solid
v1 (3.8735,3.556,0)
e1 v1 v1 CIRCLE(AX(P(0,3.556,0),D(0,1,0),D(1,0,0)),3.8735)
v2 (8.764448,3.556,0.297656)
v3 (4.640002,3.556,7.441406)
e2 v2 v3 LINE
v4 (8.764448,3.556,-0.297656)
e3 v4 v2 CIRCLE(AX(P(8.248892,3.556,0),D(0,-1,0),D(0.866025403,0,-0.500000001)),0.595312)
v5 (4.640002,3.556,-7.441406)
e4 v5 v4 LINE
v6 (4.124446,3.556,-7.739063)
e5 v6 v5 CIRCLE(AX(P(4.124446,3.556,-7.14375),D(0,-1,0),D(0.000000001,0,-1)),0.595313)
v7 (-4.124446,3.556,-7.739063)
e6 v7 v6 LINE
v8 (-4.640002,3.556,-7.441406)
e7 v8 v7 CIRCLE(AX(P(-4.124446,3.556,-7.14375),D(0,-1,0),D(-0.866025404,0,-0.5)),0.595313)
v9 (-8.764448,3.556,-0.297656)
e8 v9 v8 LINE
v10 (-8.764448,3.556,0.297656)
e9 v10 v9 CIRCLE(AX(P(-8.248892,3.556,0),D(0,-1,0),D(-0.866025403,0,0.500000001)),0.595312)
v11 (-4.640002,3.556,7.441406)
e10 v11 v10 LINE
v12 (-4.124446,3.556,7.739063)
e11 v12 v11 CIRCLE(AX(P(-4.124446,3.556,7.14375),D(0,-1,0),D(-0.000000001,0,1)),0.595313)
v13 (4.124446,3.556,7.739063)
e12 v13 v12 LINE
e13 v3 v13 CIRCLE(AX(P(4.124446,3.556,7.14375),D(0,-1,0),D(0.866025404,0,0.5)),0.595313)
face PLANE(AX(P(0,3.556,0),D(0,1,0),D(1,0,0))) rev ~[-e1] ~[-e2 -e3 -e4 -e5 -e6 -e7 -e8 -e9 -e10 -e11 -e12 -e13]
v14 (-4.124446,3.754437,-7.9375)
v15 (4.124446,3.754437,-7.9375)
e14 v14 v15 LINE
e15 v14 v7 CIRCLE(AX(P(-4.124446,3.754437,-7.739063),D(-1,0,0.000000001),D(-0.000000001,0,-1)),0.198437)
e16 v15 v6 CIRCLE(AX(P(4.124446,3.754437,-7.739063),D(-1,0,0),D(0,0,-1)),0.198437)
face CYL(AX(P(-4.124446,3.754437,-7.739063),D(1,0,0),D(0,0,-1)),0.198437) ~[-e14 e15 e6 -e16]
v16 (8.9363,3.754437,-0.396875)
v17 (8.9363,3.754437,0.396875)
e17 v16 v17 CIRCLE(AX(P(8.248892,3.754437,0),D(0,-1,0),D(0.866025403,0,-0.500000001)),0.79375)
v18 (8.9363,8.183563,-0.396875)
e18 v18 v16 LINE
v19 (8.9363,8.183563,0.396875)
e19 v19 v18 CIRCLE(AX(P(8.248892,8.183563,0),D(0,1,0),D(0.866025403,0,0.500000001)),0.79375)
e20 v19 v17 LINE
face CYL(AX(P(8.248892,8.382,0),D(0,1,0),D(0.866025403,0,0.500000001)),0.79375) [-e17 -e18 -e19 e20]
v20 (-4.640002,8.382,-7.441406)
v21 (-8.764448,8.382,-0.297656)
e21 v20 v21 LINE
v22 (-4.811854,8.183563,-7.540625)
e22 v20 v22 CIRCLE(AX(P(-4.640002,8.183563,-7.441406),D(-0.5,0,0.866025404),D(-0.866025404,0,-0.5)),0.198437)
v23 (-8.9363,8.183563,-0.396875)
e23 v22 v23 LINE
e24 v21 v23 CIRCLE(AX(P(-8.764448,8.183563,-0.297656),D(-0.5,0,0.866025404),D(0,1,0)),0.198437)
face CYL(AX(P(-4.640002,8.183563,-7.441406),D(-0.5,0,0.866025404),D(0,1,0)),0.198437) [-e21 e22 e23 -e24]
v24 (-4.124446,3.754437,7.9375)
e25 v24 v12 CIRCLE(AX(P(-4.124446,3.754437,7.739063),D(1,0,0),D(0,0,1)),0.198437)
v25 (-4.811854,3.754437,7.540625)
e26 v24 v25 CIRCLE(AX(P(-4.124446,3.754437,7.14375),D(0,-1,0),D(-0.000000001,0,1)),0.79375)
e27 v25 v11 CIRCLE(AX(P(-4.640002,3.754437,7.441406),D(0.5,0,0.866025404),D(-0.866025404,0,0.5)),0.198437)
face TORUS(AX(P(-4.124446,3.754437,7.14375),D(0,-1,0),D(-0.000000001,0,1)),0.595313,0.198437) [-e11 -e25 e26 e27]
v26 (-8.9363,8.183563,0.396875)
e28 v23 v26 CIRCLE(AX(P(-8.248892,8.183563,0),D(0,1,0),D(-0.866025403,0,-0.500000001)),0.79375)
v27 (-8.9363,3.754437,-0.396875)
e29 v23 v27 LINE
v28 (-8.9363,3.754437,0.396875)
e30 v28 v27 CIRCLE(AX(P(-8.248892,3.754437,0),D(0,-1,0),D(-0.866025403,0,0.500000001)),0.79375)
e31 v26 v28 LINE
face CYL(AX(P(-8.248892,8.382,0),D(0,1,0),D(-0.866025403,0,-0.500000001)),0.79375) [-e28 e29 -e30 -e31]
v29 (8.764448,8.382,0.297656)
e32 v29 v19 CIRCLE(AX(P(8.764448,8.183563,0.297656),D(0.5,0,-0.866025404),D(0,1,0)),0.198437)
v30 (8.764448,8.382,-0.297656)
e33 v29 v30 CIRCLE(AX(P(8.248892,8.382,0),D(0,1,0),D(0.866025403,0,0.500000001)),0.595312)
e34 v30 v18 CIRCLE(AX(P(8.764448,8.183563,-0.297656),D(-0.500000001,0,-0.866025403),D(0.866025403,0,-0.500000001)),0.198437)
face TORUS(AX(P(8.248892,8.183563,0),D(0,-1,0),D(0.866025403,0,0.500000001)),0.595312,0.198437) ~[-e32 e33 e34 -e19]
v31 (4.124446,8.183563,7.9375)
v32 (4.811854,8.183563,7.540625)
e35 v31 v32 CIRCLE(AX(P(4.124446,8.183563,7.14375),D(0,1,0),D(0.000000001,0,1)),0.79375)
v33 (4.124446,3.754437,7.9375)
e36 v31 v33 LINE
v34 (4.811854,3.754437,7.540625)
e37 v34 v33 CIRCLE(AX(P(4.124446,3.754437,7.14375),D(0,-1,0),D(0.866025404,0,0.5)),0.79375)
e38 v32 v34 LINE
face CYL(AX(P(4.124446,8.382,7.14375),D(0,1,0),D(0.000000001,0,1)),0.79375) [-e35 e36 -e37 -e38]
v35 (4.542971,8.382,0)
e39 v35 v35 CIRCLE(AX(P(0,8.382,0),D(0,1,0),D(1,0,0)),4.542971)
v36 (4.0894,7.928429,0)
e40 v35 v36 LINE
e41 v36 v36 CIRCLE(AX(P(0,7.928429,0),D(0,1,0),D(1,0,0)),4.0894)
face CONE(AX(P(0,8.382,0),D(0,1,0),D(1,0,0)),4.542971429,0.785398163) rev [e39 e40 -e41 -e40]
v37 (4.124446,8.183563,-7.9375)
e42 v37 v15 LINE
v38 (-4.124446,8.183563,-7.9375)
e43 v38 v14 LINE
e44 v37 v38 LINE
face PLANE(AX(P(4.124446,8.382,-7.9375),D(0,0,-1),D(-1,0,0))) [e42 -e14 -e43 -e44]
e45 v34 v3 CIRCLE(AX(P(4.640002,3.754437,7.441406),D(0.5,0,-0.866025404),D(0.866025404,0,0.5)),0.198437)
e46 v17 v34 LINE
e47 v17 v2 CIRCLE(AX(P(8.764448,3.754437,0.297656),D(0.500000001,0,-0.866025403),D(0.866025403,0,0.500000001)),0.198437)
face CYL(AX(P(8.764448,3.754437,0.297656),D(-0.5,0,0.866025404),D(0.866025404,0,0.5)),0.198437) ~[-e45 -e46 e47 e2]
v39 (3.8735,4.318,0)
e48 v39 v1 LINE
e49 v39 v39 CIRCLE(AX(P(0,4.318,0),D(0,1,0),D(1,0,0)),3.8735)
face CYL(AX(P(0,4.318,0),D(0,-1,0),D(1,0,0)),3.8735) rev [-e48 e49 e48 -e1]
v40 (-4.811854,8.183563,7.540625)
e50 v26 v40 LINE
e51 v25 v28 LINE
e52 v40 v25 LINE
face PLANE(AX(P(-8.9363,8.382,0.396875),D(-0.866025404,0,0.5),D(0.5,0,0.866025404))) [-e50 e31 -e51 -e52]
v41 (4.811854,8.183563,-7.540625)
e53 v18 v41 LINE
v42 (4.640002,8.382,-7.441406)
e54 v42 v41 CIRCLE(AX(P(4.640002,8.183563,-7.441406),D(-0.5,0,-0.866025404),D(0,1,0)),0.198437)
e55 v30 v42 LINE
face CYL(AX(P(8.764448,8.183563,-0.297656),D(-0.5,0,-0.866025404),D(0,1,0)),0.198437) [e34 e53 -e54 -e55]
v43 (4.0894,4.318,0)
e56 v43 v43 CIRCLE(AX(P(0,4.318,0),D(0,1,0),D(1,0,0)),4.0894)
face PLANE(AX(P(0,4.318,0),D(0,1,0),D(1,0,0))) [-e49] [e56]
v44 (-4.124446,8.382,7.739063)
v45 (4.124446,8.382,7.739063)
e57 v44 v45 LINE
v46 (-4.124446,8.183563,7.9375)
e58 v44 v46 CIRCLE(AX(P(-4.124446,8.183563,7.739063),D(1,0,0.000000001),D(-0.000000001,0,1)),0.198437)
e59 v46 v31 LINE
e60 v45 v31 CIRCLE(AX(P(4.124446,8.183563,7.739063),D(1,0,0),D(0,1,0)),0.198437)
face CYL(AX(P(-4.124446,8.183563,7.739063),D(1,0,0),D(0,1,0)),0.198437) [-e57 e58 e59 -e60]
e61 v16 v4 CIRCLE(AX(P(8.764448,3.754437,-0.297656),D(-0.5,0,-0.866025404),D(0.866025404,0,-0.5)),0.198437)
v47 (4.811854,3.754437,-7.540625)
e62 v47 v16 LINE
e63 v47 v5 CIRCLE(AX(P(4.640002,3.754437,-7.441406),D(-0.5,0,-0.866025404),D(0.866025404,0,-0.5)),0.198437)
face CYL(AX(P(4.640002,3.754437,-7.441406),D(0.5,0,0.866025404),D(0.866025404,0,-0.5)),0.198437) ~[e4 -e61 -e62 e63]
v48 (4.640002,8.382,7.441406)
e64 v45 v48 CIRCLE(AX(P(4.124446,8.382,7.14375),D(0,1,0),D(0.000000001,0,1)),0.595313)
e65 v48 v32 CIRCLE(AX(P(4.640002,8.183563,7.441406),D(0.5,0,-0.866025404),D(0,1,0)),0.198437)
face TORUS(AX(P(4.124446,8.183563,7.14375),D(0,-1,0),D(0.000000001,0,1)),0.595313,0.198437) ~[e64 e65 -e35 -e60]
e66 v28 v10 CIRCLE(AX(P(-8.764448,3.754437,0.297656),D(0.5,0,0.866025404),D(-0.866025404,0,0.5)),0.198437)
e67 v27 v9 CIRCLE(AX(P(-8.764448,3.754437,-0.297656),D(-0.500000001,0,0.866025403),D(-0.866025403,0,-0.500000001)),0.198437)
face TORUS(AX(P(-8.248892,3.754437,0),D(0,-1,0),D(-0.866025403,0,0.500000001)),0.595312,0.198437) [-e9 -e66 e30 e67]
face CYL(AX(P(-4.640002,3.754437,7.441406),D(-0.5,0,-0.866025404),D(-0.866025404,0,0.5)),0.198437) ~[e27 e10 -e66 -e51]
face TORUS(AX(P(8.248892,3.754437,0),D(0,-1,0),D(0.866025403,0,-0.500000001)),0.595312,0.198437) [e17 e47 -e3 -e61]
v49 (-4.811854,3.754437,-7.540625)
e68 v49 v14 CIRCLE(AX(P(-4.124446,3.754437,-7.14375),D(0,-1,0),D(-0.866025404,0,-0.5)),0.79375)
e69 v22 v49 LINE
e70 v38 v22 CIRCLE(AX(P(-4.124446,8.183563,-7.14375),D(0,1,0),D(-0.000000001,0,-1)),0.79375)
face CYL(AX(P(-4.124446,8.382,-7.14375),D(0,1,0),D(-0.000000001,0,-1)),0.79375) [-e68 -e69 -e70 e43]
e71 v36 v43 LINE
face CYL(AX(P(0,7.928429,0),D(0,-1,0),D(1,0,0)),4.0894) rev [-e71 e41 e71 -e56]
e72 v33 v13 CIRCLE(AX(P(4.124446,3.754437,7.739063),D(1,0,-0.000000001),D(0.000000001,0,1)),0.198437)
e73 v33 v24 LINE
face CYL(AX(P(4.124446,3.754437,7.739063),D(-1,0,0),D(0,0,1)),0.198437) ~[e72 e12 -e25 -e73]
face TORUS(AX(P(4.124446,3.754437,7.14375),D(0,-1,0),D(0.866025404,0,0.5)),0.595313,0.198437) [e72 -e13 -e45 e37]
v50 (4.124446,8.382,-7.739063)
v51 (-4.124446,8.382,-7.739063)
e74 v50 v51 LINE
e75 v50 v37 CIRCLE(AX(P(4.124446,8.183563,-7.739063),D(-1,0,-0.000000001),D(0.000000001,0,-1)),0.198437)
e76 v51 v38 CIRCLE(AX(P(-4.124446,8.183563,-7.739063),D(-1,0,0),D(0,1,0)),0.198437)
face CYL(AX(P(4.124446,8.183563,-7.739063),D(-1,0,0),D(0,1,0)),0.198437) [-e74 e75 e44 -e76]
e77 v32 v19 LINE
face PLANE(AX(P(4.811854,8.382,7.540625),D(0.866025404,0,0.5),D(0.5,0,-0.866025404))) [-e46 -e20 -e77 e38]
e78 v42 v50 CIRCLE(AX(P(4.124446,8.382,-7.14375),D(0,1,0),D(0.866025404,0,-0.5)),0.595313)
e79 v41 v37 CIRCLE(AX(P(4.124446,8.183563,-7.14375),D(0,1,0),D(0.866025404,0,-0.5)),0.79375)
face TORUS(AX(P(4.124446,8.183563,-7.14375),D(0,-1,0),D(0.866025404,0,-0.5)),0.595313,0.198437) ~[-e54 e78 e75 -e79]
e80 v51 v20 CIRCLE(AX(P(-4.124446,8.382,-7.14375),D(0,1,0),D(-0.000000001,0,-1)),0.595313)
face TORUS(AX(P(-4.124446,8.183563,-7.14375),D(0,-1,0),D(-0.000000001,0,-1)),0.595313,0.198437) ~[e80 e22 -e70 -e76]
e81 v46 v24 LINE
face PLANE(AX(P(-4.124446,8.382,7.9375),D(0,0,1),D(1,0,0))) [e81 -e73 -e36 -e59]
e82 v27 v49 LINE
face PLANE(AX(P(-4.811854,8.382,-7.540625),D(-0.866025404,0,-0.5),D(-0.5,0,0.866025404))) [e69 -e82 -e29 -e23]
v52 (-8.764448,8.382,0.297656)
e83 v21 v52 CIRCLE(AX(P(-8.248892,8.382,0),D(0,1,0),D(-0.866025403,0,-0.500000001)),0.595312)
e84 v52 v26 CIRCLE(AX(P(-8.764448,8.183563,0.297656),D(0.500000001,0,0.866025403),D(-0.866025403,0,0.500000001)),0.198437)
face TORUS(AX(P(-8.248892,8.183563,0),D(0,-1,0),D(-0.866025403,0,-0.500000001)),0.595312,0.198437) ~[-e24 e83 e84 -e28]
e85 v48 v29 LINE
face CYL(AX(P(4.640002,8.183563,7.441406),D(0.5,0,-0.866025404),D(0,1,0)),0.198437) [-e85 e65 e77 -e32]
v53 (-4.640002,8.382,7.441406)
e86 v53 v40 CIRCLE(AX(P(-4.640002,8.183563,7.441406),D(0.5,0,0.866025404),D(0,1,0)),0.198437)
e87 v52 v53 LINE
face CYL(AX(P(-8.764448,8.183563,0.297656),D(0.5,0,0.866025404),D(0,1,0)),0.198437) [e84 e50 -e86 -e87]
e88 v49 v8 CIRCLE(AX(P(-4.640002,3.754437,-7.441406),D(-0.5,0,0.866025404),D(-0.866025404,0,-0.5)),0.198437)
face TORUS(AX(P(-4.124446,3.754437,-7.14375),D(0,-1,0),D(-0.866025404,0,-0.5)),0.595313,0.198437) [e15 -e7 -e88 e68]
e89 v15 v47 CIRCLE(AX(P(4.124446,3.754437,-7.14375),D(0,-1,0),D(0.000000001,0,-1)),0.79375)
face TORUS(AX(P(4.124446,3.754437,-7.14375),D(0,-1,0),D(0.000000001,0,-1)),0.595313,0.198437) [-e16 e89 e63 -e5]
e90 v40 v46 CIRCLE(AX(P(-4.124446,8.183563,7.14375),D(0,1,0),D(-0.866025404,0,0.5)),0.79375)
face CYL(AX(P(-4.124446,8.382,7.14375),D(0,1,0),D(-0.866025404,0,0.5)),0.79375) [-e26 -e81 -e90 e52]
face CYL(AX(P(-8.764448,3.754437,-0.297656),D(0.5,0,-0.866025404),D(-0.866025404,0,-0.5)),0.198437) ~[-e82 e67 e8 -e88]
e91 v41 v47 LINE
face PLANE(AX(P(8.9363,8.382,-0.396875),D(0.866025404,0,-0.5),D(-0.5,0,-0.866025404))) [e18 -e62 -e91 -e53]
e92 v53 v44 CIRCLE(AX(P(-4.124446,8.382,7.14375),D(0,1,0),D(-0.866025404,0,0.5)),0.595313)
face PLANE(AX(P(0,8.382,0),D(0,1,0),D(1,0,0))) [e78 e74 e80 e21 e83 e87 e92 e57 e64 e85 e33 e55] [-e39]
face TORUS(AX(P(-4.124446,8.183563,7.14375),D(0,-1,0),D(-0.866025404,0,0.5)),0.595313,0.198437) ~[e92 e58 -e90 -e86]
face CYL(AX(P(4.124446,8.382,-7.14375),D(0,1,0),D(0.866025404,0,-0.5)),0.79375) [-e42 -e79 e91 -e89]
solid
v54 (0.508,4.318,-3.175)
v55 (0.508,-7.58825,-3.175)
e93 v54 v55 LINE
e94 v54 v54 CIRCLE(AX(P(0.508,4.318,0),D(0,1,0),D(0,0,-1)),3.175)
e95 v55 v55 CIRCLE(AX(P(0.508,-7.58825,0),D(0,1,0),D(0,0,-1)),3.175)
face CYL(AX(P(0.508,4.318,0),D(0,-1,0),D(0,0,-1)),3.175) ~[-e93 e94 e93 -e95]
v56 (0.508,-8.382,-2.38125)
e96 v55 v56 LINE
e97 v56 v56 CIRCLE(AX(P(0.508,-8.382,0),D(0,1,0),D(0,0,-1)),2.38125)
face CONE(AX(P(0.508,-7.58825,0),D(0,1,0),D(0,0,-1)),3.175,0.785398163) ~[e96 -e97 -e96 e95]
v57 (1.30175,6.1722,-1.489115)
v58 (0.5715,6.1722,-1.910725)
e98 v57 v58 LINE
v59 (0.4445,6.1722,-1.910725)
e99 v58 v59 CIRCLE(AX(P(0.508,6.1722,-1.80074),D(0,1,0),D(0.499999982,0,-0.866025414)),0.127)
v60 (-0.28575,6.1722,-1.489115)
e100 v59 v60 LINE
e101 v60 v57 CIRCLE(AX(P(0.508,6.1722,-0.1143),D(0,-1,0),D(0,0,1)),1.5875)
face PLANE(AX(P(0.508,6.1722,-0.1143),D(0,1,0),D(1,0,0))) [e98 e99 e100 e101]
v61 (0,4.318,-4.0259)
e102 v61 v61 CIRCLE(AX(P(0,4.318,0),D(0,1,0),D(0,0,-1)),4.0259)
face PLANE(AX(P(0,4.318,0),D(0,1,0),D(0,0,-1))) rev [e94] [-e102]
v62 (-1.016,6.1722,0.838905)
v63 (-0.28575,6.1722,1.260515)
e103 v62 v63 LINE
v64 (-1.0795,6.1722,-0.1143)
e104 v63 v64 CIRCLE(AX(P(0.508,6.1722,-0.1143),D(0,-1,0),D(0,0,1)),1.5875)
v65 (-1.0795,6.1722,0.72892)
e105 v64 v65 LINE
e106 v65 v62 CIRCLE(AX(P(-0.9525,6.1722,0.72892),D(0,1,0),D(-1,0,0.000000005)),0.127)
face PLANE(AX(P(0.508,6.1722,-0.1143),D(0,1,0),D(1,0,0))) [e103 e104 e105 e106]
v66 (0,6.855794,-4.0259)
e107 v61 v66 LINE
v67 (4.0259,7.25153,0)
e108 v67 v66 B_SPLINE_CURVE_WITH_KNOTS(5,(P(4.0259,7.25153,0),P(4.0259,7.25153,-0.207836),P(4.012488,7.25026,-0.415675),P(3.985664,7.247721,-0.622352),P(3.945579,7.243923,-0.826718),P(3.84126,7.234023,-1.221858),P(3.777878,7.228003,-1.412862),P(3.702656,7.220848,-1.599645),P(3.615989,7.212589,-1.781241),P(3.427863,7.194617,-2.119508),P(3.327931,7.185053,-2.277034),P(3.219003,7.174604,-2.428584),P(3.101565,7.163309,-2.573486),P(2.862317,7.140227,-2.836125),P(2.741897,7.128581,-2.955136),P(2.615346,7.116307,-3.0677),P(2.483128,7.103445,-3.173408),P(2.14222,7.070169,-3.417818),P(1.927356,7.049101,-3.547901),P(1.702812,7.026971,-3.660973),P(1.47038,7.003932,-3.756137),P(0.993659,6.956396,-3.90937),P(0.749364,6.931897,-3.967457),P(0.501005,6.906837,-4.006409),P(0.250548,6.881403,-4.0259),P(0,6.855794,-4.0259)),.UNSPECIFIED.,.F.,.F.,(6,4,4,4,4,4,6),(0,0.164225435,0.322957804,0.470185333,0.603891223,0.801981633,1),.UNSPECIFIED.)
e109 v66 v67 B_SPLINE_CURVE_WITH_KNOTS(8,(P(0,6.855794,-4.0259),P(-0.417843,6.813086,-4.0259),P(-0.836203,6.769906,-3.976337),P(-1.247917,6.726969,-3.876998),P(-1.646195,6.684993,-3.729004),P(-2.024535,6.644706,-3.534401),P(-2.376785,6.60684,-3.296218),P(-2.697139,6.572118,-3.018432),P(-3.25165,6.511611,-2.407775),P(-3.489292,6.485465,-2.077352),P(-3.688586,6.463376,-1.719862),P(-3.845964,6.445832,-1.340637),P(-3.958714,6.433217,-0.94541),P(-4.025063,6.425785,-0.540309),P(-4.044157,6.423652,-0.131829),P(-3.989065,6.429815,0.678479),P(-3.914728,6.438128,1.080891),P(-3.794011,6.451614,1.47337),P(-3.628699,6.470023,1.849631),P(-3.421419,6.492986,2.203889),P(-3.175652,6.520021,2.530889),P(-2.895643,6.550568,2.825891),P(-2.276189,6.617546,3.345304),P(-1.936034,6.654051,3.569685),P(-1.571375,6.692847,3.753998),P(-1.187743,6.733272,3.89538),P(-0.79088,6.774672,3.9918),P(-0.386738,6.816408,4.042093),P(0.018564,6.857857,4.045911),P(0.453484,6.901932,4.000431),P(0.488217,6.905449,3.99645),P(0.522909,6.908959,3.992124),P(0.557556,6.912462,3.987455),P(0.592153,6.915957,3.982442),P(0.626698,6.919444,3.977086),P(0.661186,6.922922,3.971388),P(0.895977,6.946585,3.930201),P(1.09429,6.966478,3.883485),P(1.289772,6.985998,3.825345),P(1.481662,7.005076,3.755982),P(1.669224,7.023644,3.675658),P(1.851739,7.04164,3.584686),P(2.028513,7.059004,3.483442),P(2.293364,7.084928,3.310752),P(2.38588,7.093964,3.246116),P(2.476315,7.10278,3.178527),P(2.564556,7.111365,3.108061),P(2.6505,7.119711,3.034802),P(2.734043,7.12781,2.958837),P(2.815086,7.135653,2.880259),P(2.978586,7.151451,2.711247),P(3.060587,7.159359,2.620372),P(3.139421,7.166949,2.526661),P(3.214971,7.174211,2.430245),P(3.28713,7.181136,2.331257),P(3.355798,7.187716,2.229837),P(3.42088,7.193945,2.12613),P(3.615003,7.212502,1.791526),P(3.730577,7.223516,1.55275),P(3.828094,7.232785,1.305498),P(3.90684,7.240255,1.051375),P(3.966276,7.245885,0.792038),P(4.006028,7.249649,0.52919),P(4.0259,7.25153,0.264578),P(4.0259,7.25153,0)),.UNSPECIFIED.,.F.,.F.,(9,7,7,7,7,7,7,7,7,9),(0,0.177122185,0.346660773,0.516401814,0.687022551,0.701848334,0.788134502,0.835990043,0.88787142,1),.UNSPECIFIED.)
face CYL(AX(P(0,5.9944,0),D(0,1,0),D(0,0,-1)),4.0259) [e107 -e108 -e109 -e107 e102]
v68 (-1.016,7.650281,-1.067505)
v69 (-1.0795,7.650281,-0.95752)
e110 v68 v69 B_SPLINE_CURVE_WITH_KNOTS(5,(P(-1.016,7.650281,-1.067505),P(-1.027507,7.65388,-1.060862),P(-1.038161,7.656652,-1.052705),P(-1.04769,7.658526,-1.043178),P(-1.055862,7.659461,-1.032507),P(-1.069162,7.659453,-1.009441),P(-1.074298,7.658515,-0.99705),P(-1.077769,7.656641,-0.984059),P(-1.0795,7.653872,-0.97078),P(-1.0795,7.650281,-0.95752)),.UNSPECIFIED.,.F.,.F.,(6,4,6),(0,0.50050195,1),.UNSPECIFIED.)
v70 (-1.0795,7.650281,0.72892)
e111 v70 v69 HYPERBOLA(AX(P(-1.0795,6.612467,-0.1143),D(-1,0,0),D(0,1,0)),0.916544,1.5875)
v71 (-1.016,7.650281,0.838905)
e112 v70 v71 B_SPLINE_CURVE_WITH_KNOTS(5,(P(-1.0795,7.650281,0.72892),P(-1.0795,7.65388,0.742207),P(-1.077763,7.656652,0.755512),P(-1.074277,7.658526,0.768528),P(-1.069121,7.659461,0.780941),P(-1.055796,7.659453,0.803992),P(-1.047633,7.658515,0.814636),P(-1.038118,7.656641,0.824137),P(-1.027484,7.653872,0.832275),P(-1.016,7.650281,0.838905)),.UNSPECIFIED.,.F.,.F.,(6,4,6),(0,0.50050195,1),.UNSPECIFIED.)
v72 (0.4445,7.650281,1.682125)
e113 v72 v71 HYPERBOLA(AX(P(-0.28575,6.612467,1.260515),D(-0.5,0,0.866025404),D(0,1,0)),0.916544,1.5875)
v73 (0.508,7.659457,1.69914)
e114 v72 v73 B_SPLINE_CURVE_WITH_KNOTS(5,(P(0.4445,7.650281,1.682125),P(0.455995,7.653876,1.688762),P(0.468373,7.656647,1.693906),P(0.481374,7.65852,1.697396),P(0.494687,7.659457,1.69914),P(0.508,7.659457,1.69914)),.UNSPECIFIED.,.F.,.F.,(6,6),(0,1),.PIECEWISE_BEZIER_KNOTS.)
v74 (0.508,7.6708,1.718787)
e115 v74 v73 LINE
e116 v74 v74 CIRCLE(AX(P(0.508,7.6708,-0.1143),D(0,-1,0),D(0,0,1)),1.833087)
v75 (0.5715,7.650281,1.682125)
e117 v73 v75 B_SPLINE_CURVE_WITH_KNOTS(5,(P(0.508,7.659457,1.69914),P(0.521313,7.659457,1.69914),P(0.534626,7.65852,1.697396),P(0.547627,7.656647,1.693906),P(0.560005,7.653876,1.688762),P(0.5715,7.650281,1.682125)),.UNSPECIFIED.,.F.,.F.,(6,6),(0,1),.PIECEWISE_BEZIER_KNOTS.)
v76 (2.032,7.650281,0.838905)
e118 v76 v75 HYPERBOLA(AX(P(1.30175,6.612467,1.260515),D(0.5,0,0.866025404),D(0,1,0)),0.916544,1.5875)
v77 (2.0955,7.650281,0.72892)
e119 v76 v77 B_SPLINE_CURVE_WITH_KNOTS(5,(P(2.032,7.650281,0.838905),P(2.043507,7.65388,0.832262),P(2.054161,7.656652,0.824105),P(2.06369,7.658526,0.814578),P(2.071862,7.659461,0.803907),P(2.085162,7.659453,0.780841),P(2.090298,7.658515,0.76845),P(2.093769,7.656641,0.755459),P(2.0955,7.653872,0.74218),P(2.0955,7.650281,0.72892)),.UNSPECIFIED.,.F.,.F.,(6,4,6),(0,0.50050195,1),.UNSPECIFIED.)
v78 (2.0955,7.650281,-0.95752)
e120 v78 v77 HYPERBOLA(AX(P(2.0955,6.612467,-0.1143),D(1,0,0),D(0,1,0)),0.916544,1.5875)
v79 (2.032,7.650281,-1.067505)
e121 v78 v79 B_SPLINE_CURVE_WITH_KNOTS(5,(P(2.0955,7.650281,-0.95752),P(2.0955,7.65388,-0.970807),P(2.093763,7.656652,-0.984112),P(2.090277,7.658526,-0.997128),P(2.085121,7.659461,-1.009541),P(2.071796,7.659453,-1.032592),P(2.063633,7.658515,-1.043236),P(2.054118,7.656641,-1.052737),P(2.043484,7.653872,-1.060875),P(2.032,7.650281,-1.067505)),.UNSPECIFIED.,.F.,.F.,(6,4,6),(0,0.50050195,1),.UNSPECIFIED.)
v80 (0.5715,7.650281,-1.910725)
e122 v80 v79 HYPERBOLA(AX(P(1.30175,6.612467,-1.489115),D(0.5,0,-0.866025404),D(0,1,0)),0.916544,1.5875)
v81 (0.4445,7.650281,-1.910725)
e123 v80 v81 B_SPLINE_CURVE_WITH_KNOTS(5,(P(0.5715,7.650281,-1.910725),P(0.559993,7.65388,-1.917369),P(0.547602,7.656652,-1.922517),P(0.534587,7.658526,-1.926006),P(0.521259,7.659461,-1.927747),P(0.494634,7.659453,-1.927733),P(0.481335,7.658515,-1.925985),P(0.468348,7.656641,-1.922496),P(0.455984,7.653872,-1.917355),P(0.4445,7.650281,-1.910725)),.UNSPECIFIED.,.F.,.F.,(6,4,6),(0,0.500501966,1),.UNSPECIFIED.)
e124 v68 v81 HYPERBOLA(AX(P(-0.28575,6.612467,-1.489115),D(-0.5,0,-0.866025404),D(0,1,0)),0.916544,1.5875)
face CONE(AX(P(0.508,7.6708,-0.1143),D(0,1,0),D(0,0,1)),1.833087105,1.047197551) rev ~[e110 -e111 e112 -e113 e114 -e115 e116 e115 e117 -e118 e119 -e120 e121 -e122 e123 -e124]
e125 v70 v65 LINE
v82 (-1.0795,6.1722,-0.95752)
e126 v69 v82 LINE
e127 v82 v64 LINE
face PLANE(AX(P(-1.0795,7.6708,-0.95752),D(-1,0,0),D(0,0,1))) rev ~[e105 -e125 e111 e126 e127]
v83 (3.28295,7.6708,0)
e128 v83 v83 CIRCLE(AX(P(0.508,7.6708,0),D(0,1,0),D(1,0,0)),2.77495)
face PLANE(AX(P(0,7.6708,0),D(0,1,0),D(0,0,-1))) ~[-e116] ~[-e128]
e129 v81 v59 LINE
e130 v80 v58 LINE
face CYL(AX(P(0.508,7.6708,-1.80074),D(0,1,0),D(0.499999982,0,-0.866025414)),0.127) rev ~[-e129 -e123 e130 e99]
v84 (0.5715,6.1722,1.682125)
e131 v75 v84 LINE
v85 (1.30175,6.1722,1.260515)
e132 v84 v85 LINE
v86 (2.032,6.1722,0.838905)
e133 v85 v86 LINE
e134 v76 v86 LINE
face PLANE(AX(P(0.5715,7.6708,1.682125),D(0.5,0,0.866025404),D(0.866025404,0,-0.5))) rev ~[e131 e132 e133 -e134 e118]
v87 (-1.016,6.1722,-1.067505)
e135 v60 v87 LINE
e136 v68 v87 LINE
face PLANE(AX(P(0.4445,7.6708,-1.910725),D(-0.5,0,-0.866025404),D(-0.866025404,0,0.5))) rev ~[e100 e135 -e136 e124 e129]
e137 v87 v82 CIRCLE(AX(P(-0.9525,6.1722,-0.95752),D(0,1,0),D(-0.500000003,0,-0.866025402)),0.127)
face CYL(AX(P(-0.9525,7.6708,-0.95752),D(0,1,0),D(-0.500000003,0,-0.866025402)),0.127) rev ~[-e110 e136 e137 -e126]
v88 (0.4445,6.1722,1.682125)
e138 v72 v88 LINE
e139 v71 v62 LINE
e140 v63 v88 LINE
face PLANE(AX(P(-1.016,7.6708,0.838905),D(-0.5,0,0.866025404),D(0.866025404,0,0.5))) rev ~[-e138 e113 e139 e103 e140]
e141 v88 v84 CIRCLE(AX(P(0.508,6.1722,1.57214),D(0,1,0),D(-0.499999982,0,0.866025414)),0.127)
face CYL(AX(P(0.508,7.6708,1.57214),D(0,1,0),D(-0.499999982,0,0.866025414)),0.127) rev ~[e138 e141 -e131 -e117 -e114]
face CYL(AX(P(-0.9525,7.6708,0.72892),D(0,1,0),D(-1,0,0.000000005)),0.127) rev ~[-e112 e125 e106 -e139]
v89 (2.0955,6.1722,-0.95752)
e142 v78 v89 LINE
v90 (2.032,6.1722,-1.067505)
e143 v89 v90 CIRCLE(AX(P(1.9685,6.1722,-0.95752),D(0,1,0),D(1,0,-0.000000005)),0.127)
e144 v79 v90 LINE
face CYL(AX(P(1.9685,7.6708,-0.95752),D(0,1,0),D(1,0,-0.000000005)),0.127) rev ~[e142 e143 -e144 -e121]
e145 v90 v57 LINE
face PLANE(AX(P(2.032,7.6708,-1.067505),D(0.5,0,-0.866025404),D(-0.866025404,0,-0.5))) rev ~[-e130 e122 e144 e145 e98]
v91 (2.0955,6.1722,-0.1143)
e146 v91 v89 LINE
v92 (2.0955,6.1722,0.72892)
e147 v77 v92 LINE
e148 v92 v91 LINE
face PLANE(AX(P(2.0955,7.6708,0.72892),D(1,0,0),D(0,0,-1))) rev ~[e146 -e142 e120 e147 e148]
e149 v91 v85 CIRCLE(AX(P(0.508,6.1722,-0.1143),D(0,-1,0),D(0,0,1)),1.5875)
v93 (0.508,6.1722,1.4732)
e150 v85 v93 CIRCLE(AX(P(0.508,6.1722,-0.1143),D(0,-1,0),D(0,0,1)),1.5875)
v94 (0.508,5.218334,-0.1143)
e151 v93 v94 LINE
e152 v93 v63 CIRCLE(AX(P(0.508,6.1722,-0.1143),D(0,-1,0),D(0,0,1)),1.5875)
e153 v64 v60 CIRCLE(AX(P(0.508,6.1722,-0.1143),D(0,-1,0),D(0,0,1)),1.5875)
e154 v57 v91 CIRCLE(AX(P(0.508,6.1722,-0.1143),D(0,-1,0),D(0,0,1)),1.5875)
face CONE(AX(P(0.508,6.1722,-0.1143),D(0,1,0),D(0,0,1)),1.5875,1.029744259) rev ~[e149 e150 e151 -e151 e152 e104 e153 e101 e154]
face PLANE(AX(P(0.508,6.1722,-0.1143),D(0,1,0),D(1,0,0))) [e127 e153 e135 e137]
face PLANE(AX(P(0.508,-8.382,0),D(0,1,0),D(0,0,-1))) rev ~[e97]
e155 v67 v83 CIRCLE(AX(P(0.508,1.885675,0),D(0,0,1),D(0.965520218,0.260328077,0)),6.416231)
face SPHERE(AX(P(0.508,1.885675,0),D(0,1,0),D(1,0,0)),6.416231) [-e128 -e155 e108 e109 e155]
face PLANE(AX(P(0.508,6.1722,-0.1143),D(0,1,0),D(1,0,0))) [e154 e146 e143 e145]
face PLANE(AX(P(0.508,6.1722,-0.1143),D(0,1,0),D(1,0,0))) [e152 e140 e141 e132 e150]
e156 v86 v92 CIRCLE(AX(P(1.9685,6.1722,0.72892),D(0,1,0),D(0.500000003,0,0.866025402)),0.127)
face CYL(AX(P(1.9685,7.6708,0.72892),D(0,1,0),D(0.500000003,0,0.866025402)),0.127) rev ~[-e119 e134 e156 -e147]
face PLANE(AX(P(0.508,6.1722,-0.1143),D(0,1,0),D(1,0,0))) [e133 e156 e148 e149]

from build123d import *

# Parameters (mm, degrees)
SKETCH4_R           = 4.542971429
BOSS_EXTRUDE1_DEPTH = 4.826
FILLET1_R           = 0.1984375
SKETCH5_W           = 4.0259
SKETCH5_H           = 3.3528
CUT_EXTRUDE1_DEPTH  = 1.4986


with BuildPart() as part:
    # Sketch3 → Revolve1 (revolve)
    with BuildSketch(Plane.XY, mode=Mode.PRIVATE) as revolve1_sk:
        Polygon((-4.542971429, 8.382), (-4.0894, 7.928428571), (-4.0894, 4.318), (-3.8735, 4.318), (-3.8735, 3.556), (-7.9375, 3.556), (-7.9375, 8.382), align=None)
    revolve(revolve1_sk.sketch.rotate(Axis((0, -8.382, 0), (0, 1, 0)), 180), axis=Axis((0, -8.382, 0), (0, 1, 0)))

    # Sketch4 → Boss-Extrude1 (add)
    with BuildSketch(Plane(origin=(0, 8.382, 0), x_dir=(1, 0, 0), z_dir=(0, 1, 0))):
        with BuildLine():
            Line((4.124445986, 7.9375), (-4.124445986, 7.9375))
            ThreePointArc((-4.124445986, 7.9375), (-4.521320986, 7.831157664), (-4.81185365, 7.540625))
            Line((-4.81185365, 7.540625), (-8.936299635, 0.396875))
            ThreePointArc((-8.936299635, 0.396875), (-9.042641971, 0), (-8.936299635, -0.396875))
            Line((-8.936299635, -0.396875), (-4.81185365, -7.540625))
            ThreePointArc((-4.81185365, -7.540625), (-4.521320986, -7.831157664), (-4.124445986, -7.9375))
            Line((-4.124445986, -7.9375), (4.124445986, -7.9375))
            ThreePointArc((4.124445986, -7.9375), (4.521320986, -7.831157664), (4.81185365, -7.540625))
            Line((4.81185365, -7.540625), (8.936299635, -0.396875))
            ThreePointArc((8.936299635, -0.396875), (9.042641971, 0), (8.936299635, 0.396875))
            Line((8.936299635, 0.396875), (4.81185365, 7.540625))
            ThreePointArc((4.81185365, 7.540625), (4.521320986, 7.831157664), (4.124445986, 7.9375))
        make_face()
        Circle(SKETCH4_R, mode=Mode.SUBTRACT)
    extrude(amount=-BOSS_EXTRUDE1_DEPTH)

    # Fillet1
    fillet1_edges = [part.edges().sort_by_distance(p)[0] for p in [
        (-6.874076643, 3.556, 3.96875),
        (0, 3.556, 7.9375),
        (-4.521320986, 3.556, 7.831157664),
        (6.874076643, 3.556, 3.96875),
        (4.521320986, 3.556, 7.831157664),
        (6.874076643, 3.556, -3.96875),
        (9.042641971, 3.556, 0),
        (0, 3.556, -7.9375),
        (4.521320986, 3.556, -7.831157664),
        (-6.874076643, 3.556, -3.96875),
        (-4.521320986, 3.556, -7.831157664),
        (6.874076643, 8.382, 3.96875),
        (0, 8.382, 7.9375),
        (4.521320986, 8.382, 7.831157664),
        (-6.874076643, 8.382, 3.96875),
        (-4.521320986, 8.382, 7.831157664),
        (-6.874076643, 8.382, -3.96875),
        (-9.042641971, 8.382, 0),
        (0, 8.382, -7.9375),
        (-4.521320986, 8.382, -7.831157664),
        (6.874076643, 8.382, -3.96875),
        (4.521320986, 8.382, -7.831157664),
        (9.042641971, 8.382, 0),
        (-9.042641971, 3.556, 0),
    ]]
    fillet(fillet1_edges, radius=FILLET1_R)


with BuildPart() as body_2:
    # Sketch5 → Revolve2 (revolve)
    with BuildSketch(Plane.XY, mode=Mode.PRIVATE) as revolve2_sk:
        with Locations((2.01295, 5.9944)):
            Rectangle(SKETCH5_W, SKETCH5_H)
    revolve(revolve2_sk.sketch.rotate(Axis((0, 4.318, 0), (0, 1, 0)), 90), axis=Axis((0, 4.318, 0), (0, 1, 0)))

    # Sketch6 → Revolve3 (revolve)
    with BuildSketch(Plane.XY, mode=Mode.PRIVATE) as revolve3_sk:
        Polygon((0.508, 4.318), (3.683, 4.318), (3.683, -7.58825), (2.88925, -8.382), (0.508, -8.382), align=None)
    revolve(revolve3_sk.sketch.rotate(Axis((0.508, -8.382, 0), (0, 1, 0)), 90), axis=Axis((0.508, -8.382, 0), (0, 1, 0)))

    # Sketch7 → Cut-Revolve1 (revolve, cut)
    with BuildSketch(Plane.XY):
        with BuildLine():
            Line((6.703000764, 13.127905926), (6.703000764, 3.556))
            ThreePointArc((6.703000764, 3.556), (4.409975702, 6.979063374), (0.508, 8.301905926))
            Line((0.508, 8.301905926), (0.508, 13.127905926))
            Line((0.508, 13.127905926), (6.703000764, 13.127905926))
        make_face()
    revolve(axis=Axis((0.508, -8.382, 0), (0, 1, 0)), mode=Mode.SUBTRACT)

    # Sketch8 → Cut-Extrude1 (cut)
    with BuildSketch(Plane(origin=(0, 7.6708, 0), x_dir=(1, 0, 0), z_dir=(0, 1, 0))):
        with BuildLine():
            Line((-1.016, -0.838905294), (0.4445, -1.682125363))
            ThreePointArc((0.4445, -1.682125363), (0.508, -1.699140136), (0.5715, -1.682125363))
            Line((0.5715, -1.682125363), (2.032, -0.838905294))
            ThreePointArc((2.032, -0.838905294), (2.078485226, -0.792420068), (2.0955, -0.728920068))
            Line((2.0955, -0.728920068), (2.0955, 0.957520068))
            ThreePointArc((2.0955, 0.957520068), (2.078485226, 1.021020068), (2.032, 1.067505294))
            Line((2.032, 1.067505294), (0.5715, 1.910725363))
            ThreePointArc((0.5715, 1.910725363), (0.508, 1.927740136), (0.4445, 1.910725363))
            Line((0.4445, 1.910725363), (-1.016, 1.067505294))
            ThreePointArc((-1.016, 1.067505294), (-1.062485226, 1.021020068), (-1.0795, 0.957520068))
            Line((-1.0795, 0.957520068), (-1.0795, -0.728920068))
            ThreePointArc((-1.0795, -0.728920068), (-1.062485226, -0.792420068), (-1.016, -0.838905294))
        make_face()
    extrude(amount=-CUT_EXTRUDE1_DEPTH, mode=Mode.SUBTRACT)

    # Cut-Extrude2 cone 1 section (through the dimple's axis) → Cut-Extrude2 (revolve, cut)
    with BuildSketch(Plane(origin=(0.508, 6.1722, -0.1143), x_dir=(0, 0, 1), z_dir=(1, 0, 0))):
        Polygon((0, 0), (1.5875, 0), (0, 0.953866233), align=None)
    revolve(axis=Axis((0.508, 6.1722, -0.1143), (0, -1, 0)), mode=Mode.SUBTRACT)

    # Cut-Extrude3 cone 1 section (through the dimple's axis) → Cut-Extrude3 (revolve, cut)
    with BuildSketch(Plane(origin=(0.508, 7.6708, -0.1143), x_dir=(0, 0, 1), z_dir=(1, 0, 0))):
        Polygon((0, 0), (1.833087105, 0), (0, 1.058333333), align=None)
    revolve(axis=Axis((0.508, 7.6708, -0.1143), (0, -1, 0)), mode=Mode.SUBTRACT)


solid = Compound([part.part, body_2.part])
